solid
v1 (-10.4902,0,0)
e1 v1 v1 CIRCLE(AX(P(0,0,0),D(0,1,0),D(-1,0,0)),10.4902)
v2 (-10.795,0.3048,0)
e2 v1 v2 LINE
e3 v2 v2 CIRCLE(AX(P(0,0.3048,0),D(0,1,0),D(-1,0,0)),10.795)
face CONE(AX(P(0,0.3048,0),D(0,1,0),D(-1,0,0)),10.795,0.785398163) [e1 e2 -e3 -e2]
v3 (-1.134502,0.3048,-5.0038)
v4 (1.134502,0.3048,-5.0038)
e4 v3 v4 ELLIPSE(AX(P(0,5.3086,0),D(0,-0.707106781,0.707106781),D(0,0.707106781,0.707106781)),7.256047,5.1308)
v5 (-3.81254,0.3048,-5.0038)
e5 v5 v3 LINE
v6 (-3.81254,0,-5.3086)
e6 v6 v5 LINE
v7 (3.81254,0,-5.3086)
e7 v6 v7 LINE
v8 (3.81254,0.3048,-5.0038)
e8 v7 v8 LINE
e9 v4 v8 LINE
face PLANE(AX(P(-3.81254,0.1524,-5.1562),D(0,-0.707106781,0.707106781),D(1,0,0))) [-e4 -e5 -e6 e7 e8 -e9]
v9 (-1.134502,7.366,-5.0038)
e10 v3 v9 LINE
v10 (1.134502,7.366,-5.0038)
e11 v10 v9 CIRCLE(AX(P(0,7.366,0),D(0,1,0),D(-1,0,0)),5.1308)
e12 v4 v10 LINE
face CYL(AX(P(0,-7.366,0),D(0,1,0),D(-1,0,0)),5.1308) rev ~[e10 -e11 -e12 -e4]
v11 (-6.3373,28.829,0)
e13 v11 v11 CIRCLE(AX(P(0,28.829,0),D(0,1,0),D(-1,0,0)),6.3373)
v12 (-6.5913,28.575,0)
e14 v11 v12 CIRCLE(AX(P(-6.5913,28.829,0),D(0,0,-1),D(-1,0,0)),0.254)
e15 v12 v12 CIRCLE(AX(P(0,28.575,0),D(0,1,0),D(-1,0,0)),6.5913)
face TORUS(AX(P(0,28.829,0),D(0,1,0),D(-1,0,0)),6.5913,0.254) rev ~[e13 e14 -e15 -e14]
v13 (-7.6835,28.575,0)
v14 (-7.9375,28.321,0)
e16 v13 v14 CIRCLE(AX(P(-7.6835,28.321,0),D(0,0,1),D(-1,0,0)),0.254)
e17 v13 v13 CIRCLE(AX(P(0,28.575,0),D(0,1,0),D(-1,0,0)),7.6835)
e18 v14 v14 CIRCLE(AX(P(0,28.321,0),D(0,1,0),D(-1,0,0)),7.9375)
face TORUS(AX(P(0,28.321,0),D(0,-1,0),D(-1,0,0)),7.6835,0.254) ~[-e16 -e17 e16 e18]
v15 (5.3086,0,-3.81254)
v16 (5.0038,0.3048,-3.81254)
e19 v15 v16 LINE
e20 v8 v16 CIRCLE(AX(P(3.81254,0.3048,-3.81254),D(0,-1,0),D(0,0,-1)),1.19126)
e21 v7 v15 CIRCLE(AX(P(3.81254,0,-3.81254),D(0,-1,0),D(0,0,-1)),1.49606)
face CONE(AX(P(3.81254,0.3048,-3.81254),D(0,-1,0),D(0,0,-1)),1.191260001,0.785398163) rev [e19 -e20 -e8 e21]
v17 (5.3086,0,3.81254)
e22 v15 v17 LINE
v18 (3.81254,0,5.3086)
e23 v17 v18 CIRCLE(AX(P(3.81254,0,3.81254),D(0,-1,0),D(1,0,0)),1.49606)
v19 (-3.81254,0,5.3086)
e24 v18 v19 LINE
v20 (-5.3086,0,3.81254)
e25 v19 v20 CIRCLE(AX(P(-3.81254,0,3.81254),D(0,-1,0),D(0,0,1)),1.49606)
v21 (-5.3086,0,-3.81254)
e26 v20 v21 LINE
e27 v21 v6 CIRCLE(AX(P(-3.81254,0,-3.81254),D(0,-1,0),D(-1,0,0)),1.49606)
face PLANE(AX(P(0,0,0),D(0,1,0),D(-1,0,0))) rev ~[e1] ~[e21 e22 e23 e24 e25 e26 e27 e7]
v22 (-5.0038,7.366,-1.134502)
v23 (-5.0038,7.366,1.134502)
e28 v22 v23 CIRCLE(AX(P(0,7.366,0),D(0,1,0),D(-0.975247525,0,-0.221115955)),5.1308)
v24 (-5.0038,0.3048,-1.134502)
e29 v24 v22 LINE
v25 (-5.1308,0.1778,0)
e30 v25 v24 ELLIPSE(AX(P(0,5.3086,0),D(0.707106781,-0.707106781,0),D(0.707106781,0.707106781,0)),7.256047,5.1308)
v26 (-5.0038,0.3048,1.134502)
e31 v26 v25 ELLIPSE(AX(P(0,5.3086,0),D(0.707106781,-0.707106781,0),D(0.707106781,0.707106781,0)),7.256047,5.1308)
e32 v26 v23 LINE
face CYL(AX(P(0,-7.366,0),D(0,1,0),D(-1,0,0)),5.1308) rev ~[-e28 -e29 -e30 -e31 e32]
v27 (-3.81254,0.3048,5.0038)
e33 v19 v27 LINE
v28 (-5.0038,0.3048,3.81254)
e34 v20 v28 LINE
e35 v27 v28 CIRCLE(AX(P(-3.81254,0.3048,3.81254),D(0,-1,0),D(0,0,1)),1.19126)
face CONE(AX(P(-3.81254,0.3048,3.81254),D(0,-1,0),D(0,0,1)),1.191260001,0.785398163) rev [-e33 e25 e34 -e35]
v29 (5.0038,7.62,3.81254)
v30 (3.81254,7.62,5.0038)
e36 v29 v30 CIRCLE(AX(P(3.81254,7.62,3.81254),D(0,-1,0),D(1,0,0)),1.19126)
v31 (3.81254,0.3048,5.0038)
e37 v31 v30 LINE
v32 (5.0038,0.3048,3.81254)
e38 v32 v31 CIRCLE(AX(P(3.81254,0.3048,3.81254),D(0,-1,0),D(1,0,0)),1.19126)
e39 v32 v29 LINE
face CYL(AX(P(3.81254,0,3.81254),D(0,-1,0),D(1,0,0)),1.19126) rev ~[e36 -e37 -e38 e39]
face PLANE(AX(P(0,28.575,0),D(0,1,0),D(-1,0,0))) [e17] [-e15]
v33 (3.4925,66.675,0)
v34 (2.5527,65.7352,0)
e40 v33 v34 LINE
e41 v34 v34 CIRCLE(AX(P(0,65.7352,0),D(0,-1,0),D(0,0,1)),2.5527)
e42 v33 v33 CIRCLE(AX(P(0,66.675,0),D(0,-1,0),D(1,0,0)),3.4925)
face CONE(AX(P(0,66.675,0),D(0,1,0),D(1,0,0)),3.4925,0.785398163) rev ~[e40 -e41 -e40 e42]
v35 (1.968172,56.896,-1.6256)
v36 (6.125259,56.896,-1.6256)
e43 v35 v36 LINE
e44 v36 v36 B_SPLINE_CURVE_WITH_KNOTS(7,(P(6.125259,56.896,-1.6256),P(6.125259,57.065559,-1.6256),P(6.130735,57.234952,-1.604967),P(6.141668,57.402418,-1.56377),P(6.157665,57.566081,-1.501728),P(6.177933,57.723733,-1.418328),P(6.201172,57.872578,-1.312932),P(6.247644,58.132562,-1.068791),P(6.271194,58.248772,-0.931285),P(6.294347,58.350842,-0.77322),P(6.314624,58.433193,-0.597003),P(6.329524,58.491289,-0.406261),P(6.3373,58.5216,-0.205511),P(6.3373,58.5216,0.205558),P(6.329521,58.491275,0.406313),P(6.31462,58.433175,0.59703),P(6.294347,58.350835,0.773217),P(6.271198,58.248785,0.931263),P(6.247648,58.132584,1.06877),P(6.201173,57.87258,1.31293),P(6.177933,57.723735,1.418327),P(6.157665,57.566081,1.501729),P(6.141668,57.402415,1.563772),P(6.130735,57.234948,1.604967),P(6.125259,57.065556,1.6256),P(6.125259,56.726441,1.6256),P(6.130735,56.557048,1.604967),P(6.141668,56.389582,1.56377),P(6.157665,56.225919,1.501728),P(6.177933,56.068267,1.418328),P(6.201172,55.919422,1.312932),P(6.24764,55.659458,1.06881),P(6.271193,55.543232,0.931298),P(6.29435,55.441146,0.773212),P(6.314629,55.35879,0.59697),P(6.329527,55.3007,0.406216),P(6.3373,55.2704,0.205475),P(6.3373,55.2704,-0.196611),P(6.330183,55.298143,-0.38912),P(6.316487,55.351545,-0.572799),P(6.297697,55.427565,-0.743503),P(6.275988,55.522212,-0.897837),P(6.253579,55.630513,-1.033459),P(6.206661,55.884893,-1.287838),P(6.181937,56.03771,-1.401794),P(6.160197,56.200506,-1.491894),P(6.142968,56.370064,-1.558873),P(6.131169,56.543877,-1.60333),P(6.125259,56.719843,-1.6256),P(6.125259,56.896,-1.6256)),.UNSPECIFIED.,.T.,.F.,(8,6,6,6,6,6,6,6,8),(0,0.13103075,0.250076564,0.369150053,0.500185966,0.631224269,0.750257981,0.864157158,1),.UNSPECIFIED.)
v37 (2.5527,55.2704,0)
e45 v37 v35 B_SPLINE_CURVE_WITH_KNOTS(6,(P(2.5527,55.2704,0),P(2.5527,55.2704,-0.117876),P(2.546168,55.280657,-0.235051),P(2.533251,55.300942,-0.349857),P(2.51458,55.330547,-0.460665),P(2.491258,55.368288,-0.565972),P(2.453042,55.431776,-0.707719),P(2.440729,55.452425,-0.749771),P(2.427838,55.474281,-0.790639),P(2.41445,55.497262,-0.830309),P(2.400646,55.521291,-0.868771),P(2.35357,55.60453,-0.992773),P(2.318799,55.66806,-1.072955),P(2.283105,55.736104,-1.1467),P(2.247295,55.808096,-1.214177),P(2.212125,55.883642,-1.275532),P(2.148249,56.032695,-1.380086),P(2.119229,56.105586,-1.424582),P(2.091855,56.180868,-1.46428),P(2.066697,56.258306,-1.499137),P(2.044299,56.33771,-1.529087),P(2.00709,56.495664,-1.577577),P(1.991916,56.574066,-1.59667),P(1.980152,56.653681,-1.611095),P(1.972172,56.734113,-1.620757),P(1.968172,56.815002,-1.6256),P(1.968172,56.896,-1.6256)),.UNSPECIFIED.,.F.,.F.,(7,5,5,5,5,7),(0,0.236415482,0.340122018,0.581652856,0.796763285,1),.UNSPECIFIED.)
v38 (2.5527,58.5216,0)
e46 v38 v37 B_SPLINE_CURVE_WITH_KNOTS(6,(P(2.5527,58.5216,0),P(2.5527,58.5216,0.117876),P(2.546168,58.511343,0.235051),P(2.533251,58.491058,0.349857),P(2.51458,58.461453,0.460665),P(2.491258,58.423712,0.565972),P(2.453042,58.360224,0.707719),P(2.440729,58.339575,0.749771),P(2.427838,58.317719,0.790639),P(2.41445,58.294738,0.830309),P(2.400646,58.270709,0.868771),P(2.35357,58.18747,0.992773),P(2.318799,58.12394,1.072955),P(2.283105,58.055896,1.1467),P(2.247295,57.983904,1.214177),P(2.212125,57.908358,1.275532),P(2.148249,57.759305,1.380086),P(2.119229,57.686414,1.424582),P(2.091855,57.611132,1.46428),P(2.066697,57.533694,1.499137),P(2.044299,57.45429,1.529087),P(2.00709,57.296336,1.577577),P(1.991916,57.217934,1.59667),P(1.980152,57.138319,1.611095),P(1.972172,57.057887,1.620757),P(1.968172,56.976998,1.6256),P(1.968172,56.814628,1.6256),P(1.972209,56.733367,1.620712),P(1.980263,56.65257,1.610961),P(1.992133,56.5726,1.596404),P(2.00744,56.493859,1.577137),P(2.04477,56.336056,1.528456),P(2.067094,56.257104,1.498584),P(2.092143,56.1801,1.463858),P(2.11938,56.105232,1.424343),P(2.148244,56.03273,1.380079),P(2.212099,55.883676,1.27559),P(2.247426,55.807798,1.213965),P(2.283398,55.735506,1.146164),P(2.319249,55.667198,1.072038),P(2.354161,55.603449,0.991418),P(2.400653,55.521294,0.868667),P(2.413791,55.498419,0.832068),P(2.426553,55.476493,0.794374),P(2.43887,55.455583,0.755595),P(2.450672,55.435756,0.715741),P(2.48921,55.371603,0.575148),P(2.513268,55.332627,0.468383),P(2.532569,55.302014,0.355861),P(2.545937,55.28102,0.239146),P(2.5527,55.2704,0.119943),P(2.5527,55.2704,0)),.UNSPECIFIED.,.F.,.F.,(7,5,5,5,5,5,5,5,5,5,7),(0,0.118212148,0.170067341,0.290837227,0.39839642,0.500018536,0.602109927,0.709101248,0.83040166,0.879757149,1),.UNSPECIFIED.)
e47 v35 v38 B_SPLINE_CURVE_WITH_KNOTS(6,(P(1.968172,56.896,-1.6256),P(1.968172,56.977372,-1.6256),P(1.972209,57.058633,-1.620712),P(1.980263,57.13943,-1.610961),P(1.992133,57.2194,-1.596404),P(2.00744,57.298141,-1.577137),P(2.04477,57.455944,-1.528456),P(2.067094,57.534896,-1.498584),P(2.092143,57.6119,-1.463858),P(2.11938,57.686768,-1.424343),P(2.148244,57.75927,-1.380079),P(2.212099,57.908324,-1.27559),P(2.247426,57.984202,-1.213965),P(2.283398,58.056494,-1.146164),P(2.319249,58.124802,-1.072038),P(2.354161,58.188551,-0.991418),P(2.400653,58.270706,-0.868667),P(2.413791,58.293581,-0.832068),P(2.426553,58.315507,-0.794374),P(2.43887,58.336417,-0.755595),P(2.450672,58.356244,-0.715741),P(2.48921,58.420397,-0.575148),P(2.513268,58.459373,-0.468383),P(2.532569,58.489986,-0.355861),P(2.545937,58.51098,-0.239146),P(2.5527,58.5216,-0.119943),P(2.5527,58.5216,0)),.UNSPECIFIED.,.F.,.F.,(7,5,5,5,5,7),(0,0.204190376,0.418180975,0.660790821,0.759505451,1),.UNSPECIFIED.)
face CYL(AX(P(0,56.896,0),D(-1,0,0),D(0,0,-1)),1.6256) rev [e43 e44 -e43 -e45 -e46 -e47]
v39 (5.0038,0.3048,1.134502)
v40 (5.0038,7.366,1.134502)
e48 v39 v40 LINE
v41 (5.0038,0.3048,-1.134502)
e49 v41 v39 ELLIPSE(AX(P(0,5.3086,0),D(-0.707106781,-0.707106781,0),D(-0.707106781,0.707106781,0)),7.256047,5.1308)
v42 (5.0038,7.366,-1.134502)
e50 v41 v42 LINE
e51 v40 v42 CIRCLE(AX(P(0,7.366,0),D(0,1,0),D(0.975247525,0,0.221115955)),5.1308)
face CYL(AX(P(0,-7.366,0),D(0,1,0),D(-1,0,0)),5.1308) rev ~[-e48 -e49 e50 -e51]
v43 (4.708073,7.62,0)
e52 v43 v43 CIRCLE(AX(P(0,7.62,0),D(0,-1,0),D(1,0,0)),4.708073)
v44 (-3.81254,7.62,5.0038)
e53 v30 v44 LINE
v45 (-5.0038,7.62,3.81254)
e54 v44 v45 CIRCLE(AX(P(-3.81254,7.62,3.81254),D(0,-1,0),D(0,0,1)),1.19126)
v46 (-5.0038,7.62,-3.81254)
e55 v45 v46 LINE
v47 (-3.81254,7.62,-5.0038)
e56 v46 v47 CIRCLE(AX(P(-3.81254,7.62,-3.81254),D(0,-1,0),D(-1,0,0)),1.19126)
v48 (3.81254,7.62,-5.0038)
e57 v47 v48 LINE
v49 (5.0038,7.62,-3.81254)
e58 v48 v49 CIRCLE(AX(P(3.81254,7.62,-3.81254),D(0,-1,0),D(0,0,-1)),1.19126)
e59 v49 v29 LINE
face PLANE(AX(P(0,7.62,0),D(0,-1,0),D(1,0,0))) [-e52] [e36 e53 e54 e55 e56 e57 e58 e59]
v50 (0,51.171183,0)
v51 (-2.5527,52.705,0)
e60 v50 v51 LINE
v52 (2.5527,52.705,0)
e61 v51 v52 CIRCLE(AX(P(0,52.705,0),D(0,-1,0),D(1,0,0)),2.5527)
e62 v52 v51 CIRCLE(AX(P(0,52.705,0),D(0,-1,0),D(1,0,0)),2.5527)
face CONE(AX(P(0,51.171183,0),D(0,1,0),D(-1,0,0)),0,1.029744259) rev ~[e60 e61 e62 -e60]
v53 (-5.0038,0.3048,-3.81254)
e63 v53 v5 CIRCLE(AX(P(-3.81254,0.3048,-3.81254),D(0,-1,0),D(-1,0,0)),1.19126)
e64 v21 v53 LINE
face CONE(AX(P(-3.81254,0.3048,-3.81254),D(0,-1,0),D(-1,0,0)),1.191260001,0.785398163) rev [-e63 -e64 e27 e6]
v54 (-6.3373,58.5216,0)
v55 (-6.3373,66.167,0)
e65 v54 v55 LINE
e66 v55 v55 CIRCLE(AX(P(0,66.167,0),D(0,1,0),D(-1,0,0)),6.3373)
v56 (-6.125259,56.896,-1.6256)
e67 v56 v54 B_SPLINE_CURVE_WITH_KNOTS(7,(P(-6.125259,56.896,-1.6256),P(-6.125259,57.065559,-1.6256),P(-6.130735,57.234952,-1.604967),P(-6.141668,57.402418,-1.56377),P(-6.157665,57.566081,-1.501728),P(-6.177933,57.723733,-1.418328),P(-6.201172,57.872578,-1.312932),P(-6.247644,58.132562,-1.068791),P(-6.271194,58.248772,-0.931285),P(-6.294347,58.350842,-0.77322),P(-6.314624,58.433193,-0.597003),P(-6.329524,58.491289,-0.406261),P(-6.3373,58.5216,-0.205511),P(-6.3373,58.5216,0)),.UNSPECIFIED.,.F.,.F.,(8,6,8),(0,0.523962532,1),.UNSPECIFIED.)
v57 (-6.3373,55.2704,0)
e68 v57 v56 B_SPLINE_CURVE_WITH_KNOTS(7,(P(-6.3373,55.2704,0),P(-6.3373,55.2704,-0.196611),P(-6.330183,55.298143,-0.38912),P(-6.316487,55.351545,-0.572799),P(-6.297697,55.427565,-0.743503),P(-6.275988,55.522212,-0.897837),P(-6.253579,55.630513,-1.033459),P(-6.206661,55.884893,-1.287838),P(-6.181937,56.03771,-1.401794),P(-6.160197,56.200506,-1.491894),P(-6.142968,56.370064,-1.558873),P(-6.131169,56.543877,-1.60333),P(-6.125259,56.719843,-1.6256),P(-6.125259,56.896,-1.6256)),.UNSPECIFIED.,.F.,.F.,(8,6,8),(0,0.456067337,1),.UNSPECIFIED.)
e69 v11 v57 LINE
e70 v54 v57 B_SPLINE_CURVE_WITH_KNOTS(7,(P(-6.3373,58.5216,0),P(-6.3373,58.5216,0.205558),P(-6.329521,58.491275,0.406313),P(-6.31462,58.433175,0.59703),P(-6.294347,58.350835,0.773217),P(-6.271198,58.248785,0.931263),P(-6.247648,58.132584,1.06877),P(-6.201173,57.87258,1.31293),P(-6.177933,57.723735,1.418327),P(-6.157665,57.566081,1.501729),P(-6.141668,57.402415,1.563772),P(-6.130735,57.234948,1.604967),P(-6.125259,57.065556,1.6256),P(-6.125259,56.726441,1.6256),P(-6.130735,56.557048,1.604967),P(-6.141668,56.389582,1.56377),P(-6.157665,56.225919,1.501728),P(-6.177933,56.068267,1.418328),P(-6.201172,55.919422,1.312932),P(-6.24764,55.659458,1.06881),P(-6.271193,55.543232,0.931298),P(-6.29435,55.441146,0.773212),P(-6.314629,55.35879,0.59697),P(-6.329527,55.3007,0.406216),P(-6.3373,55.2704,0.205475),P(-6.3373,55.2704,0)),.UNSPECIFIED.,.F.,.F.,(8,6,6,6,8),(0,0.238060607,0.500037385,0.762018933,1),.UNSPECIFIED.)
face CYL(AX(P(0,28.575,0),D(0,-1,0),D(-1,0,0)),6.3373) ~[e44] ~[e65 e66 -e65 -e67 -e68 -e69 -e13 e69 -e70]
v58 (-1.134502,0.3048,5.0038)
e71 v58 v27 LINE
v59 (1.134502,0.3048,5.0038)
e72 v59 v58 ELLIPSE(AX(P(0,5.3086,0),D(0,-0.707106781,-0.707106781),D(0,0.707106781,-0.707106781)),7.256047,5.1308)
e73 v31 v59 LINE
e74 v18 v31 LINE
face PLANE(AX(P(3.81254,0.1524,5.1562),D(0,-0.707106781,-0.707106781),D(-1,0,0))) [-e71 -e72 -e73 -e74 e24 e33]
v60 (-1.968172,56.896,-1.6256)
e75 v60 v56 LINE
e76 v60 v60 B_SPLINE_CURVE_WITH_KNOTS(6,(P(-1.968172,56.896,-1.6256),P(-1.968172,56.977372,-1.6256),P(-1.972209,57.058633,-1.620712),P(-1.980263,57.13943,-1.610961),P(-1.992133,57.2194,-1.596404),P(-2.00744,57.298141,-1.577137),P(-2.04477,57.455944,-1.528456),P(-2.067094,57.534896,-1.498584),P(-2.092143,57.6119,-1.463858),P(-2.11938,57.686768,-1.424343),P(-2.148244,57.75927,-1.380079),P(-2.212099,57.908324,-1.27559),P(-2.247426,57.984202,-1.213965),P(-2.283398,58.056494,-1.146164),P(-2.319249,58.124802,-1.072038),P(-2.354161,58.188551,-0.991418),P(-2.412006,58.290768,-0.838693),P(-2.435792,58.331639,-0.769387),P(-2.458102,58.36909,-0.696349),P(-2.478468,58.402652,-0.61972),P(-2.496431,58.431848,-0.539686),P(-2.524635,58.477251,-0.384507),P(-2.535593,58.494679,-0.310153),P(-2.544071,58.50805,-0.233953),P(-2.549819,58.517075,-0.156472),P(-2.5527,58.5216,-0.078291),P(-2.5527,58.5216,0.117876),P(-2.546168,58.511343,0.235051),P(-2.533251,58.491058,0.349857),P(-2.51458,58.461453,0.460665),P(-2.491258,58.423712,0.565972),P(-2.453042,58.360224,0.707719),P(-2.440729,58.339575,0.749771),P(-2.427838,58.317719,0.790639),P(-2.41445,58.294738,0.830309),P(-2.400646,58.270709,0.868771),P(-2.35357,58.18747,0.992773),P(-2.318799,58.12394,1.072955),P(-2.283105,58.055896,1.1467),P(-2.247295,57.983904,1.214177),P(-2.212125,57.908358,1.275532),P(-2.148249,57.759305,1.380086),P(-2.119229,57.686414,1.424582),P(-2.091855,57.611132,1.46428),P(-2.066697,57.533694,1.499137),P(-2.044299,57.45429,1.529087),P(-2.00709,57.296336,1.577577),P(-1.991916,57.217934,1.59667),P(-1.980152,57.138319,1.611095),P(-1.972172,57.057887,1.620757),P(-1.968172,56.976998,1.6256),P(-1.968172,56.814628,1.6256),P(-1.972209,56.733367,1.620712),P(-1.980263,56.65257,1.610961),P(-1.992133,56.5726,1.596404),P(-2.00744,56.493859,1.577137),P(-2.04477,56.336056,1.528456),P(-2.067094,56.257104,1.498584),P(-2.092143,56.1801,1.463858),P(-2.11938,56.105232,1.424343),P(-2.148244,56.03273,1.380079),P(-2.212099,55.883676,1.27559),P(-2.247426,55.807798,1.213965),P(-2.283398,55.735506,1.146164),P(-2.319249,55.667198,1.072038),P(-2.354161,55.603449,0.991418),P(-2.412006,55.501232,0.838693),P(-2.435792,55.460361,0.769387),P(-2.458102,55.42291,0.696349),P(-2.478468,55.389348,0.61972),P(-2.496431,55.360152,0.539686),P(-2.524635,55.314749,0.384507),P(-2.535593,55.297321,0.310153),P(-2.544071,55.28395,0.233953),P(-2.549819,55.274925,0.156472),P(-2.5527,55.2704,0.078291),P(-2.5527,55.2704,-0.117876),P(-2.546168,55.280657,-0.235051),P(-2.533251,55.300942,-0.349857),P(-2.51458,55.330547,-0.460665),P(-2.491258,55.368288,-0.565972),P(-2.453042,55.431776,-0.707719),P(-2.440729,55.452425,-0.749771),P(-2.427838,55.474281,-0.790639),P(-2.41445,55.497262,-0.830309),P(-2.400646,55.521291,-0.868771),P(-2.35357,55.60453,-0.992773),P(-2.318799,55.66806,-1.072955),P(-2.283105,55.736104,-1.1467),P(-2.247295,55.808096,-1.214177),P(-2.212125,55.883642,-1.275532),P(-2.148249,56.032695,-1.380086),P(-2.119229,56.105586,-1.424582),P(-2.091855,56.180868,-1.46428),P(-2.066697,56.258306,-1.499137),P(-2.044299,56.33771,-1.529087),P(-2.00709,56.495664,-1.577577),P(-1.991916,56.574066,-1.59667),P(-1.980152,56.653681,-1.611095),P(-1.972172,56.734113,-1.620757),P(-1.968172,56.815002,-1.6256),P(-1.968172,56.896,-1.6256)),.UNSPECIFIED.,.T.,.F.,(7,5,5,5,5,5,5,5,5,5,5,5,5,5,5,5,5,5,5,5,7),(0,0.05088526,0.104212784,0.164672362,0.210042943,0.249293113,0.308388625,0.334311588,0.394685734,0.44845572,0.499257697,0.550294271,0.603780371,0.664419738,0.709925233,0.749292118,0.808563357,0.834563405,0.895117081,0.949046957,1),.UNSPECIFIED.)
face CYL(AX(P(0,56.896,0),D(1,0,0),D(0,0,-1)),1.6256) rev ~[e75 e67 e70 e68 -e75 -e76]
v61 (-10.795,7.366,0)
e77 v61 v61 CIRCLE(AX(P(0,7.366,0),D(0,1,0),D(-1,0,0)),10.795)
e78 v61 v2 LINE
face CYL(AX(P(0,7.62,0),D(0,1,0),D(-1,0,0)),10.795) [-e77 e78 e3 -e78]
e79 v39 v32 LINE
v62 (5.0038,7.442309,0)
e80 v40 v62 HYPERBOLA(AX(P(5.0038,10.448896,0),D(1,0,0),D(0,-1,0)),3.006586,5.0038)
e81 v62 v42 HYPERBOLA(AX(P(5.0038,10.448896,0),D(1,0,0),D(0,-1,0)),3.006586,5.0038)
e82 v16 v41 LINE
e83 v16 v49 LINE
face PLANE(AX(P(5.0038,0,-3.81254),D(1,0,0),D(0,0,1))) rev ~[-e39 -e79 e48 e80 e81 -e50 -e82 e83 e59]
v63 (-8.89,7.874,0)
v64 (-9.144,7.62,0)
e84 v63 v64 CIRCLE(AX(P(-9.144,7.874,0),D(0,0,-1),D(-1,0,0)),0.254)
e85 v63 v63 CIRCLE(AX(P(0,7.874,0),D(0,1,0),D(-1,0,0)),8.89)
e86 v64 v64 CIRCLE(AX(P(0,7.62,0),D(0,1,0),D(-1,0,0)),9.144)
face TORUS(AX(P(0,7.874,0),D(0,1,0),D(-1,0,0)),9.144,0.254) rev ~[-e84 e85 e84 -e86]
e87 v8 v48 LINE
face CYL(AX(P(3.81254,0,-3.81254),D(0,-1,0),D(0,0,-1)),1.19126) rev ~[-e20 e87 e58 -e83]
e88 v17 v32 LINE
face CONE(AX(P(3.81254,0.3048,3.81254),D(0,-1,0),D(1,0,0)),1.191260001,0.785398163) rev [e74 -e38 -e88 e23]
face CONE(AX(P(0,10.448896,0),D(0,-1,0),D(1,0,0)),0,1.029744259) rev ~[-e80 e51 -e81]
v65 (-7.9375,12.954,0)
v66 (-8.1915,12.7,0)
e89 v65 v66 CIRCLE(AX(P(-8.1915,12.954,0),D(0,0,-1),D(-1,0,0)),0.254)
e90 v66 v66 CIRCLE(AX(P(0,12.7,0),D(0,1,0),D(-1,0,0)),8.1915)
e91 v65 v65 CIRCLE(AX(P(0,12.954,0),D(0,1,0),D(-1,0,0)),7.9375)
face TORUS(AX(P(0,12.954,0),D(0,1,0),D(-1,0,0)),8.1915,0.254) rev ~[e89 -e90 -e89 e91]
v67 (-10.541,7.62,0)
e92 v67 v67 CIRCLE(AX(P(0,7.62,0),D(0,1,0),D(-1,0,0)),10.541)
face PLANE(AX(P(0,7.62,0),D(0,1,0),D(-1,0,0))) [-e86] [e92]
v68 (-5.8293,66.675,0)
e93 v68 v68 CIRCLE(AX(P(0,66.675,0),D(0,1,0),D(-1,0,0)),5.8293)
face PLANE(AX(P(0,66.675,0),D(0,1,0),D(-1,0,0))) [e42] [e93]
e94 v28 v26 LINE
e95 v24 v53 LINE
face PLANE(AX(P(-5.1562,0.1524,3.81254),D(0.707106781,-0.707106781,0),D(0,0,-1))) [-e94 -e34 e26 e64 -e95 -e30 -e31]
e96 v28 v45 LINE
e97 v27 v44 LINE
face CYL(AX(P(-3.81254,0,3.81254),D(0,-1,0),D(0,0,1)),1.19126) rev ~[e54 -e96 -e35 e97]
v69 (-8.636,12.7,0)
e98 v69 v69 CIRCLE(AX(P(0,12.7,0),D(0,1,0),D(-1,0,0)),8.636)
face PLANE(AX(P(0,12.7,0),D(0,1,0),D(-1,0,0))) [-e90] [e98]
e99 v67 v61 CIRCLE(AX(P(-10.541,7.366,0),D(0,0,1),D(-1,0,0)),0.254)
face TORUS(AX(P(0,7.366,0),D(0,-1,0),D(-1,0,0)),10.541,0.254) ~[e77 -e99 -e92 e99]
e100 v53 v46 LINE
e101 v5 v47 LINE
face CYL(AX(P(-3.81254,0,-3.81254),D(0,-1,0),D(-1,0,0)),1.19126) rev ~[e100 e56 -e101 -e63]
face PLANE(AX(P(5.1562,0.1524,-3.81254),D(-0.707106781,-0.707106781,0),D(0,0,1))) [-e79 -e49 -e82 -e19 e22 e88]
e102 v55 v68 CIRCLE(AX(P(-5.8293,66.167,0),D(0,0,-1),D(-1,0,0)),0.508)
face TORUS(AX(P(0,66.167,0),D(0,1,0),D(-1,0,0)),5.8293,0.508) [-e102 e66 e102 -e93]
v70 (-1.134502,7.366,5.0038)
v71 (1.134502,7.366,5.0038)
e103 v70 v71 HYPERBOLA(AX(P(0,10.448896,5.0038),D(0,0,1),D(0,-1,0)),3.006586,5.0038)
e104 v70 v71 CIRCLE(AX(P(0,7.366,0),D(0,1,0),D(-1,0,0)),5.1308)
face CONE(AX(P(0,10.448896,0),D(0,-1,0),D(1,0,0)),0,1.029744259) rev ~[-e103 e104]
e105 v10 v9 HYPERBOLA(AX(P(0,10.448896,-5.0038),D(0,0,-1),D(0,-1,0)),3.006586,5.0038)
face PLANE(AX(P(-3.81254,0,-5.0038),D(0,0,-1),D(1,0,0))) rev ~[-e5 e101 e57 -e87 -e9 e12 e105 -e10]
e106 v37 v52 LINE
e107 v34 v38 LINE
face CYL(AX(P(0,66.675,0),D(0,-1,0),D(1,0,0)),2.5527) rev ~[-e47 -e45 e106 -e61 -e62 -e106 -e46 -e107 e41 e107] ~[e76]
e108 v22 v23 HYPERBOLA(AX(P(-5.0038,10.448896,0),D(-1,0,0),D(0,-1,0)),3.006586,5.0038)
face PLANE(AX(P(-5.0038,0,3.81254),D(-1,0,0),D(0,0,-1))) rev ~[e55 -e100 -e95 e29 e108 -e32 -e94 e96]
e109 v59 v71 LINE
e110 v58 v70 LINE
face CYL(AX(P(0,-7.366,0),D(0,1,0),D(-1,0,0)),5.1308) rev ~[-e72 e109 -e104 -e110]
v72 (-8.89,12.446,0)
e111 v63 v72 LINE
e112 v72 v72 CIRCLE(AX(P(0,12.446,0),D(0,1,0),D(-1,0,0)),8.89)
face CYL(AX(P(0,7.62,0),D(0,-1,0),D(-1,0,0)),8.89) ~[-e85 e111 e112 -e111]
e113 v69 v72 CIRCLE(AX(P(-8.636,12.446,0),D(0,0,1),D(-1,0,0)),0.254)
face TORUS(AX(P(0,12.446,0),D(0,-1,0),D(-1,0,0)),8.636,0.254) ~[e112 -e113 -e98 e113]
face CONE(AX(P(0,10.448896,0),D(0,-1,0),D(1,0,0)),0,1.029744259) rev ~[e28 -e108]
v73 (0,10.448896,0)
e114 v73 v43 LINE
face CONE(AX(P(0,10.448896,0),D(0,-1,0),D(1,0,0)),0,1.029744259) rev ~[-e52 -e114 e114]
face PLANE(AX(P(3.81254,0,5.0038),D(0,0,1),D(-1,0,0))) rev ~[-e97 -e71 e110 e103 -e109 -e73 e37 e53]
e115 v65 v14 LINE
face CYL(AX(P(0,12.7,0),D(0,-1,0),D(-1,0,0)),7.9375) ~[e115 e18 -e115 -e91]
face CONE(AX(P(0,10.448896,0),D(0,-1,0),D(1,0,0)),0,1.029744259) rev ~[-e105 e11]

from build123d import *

# Parameters (mm, degrees)
SKETCH1_R                         = 10.795
EXTRUDE1_DEPTH                    = 7.62
SKETCH2_R                         = 8.89
EXTRUDE2_DEPTH                    = 5.08
SKETCH3_R                         = 7.9375
EXTRUDE3_DEPTH                    = 15.875
SKETCH4_R                         = 6.3373
EXTRUDE4_DEPTH                    = 38.1
EXTRUDE5_DEPTH                    = 7.62
F_1_4_20_TAPPED_HOLE1_D           = 5.1054
F_1_4_20_TAPPED_HOLE1_DEPTH       = 13.97
F_1_4_20_TAPPED_HOLE1_CSINK_D     = 6.985
F_1_4_20_TAPPED_HOLE1_CSINK_ANGLE = 90
F_1_4_20_TAPPED_HOLE1_TIP         = 1.533816902
CHAMFER2_SIZE                     = 0.3048
CHAMFER3_SIZE                     = 0.3048
FILLET1_R                         = 0.508
FILLET2_R                         = 0.254
FILLET3_R                         = 0.254
SKETCH10_R                        = 1.6256
EXTRUDE6_DEPTH                    = 11.795
EXTRUDE6_DEPTH_BACK               = 11.795
Y_0_404_DIAMETER_HOLE1_D          = 10.2616
Y_0_404_DIAMETER_HOLE1_DEPTH      = 7.366
Y_0_404_DIAMETER_HOLE1_TIP        = 3.082895664


with BuildPart() as part:
    # Sketch1 → Extrude1 (new body)
    with BuildSketch(Plane(origin=(0, 7.62, 0), x_dir=(-1, 0, 0), z_dir=(0, 1, 0))):
        Circle(SKETCH1_R)
    extrude(amount=-EXTRUDE1_DEPTH)

    # Sketch2 → Extrude2 (add)
    with BuildSketch(Plane(origin=(0, 7.62, 0), x_dir=(-1, 0, 0), z_dir=(0, 1, 0))):
        Circle(SKETCH2_R)
    extrude(amount=EXTRUDE2_DEPTH)

    # Sketch3 → Extrude3 (add)
    with BuildSketch(Plane(origin=(0, 12.7, 0), x_dir=(-1, 0, 0), z_dir=(0, 1, 0))):
        Circle(SKETCH3_R)
    extrude(amount=EXTRUDE3_DEPTH)

    # Sketch4 → Extrude4 (add)
    with BuildSketch(Plane(origin=(0, 28.575, 0), x_dir=(-1, 0, 0), z_dir=(0, 1, 0))):
        Circle(SKETCH4_R)
    extrude(amount=EXTRUDE4_DEPTH)

    # Sketch5 → Extrude5 (cut)
    with BuildSketch(Plane.XZ):
        with BuildLine():
            Line((3.81254, 5.0038), (-3.81254, 5.0038))
            ThreePointArc((-3.81254, 5.0038), (-4.654888024, 4.654888024), (-5.0038, 3.81254))
            Line((-5.0038, 3.81254), (-5.0038, -3.81254))
            ThreePointArc((-5.0038, -3.81254), (-4.654888024, -4.654888024), (-3.81254, -5.0038))
            Line((-3.81254, -5.0038), (3.81254, -5.0038))
            ThreePointArc((3.81254, -5.0038), (4.654888024, -4.654888024), (5.0038, -3.81254))
            Line((5.0038, -3.81254), (5.0038, 3.81254))
            ThreePointArc((5.0038, 3.81254), (4.654888024, 4.654888024), (3.81254, 5.0038))
        make_face()
    extrude(amount=-EXTRUDE5_DEPTH, mode=Mode.SUBTRACT)

    # 1/4-20 Tapped Hole1
    with Locations(Plane(origin=(0, 66.675, 0), x_dir=(-1, 0, 0), z_dir=(0, 1, 0))):
        with Locations((0, 0)):
            CounterSinkHole(F_1_4_20_TAPPED_HOLE1_D / 2, F_1_4_20_TAPPED_HOLE1_CSINK_D / 2, depth=F_1_4_20_TAPPED_HOLE1_DEPTH, counter_sink_angle=F_1_4_20_TAPPED_HOLE1_CSINK_ANGLE)
            with Locations((0, 0, -(F_1_4_20_TAPPED_HOLE1_DEPTH + F_1_4_20_TAPPED_HOLE1_TIP / 2))):  # 118° drill point
                Cone(0, F_1_4_20_TAPPED_HOLE1_D / 2, F_1_4_20_TAPPED_HOLE1_TIP, mode=Mode.SUBTRACT)

    # Chamfer2
    chamfer2_edges = [part.edges().sort_by_distance(p)[0] for p in [
        (4.654888024, 0, 4.654888024),
        (0, 0, 5.0038),
        (-4.654888024, 0, 4.654888024),
        (-5.0038, 0, 0),
        (-4.654888024, 0, -4.654888024),
        (0, 0, -5.0038),
        (4.654888024, 0, -4.654888024),
        (5.0038, 0, 0),
    ]]
    chamfer(chamfer2_edges, length=CHAMFER2_SIZE)

    # Chamfer3
    chamfer3_edges = [part.edges().sort_by_distance(p)[0] for p in [
        (10.795, 0, 0),
    ]]
    chamfer(chamfer3_edges, length=CHAMFER3_SIZE)

    # Fillet1
    fillet1_edges = [part.edges().sort_by_distance(p)[0] for p in [
        (6.3373, 66.675, 0),
    ]]
    fillet(fillet1_edges, radius=FILLET1_R)

    # Fillet2
    fillet2_edges = [part.edges().sort_by_distance(p)[0] for p in [
        (6.3373, 28.575, 0),
        (8.89, 7.62, 0),
        (7.9375, 12.7, 0),
    ]]
    fillet(fillet2_edges, radius=FILLET2_R)

    # Fillet3
    fillet3_edges = [part.edges().sort_by_distance(p)[0] for p in [
        (7.9375, 28.575, 0),
        (10.795, 7.62, 0),
        (8.89, 12.7, 0),
    ]]
    fillet(fillet3_edges, radius=FILLET3_R)

    # Sketch10 → Extrude6 (cut, two sides)
    with BuildSketch(Plane(origin=(0, 0, 0), x_dir=(0, 0, -1), z_dir=(1, 0, 0))) as extrude6_sk:
        with Locations((0, 56.896)):
            Circle(SKETCH10_R)
    extrude(amount=EXTRUDE6_DEPTH, mode=Mode.SUBTRACT)
    extrude(extrude6_sk.sketch, amount=-EXTRUDE6_DEPTH_BACK, mode=Mode.SUBTRACT)

    # Y (0.404) Diameter Hole1
    with Locations(Plane.XZ):
        with Locations((0, 0)):
            Hole(Y_0_404_DIAMETER_HOLE1_D / 2, depth=Y_0_404_DIAMETER_HOLE1_DEPTH)
            with Locations((0, 0, -(Y_0_404_DIAMETER_HOLE1_DEPTH + Y_0_404_DIAMETER_HOLE1_TIP / 2))):  # 118° drill point
                Cone(0, Y_0_404_DIAMETER_HOLE1_D / 2, Y_0_404_DIAMETER_HOLE1_TIP, mode=Mode.SUBTRACT)


solid = part.part
